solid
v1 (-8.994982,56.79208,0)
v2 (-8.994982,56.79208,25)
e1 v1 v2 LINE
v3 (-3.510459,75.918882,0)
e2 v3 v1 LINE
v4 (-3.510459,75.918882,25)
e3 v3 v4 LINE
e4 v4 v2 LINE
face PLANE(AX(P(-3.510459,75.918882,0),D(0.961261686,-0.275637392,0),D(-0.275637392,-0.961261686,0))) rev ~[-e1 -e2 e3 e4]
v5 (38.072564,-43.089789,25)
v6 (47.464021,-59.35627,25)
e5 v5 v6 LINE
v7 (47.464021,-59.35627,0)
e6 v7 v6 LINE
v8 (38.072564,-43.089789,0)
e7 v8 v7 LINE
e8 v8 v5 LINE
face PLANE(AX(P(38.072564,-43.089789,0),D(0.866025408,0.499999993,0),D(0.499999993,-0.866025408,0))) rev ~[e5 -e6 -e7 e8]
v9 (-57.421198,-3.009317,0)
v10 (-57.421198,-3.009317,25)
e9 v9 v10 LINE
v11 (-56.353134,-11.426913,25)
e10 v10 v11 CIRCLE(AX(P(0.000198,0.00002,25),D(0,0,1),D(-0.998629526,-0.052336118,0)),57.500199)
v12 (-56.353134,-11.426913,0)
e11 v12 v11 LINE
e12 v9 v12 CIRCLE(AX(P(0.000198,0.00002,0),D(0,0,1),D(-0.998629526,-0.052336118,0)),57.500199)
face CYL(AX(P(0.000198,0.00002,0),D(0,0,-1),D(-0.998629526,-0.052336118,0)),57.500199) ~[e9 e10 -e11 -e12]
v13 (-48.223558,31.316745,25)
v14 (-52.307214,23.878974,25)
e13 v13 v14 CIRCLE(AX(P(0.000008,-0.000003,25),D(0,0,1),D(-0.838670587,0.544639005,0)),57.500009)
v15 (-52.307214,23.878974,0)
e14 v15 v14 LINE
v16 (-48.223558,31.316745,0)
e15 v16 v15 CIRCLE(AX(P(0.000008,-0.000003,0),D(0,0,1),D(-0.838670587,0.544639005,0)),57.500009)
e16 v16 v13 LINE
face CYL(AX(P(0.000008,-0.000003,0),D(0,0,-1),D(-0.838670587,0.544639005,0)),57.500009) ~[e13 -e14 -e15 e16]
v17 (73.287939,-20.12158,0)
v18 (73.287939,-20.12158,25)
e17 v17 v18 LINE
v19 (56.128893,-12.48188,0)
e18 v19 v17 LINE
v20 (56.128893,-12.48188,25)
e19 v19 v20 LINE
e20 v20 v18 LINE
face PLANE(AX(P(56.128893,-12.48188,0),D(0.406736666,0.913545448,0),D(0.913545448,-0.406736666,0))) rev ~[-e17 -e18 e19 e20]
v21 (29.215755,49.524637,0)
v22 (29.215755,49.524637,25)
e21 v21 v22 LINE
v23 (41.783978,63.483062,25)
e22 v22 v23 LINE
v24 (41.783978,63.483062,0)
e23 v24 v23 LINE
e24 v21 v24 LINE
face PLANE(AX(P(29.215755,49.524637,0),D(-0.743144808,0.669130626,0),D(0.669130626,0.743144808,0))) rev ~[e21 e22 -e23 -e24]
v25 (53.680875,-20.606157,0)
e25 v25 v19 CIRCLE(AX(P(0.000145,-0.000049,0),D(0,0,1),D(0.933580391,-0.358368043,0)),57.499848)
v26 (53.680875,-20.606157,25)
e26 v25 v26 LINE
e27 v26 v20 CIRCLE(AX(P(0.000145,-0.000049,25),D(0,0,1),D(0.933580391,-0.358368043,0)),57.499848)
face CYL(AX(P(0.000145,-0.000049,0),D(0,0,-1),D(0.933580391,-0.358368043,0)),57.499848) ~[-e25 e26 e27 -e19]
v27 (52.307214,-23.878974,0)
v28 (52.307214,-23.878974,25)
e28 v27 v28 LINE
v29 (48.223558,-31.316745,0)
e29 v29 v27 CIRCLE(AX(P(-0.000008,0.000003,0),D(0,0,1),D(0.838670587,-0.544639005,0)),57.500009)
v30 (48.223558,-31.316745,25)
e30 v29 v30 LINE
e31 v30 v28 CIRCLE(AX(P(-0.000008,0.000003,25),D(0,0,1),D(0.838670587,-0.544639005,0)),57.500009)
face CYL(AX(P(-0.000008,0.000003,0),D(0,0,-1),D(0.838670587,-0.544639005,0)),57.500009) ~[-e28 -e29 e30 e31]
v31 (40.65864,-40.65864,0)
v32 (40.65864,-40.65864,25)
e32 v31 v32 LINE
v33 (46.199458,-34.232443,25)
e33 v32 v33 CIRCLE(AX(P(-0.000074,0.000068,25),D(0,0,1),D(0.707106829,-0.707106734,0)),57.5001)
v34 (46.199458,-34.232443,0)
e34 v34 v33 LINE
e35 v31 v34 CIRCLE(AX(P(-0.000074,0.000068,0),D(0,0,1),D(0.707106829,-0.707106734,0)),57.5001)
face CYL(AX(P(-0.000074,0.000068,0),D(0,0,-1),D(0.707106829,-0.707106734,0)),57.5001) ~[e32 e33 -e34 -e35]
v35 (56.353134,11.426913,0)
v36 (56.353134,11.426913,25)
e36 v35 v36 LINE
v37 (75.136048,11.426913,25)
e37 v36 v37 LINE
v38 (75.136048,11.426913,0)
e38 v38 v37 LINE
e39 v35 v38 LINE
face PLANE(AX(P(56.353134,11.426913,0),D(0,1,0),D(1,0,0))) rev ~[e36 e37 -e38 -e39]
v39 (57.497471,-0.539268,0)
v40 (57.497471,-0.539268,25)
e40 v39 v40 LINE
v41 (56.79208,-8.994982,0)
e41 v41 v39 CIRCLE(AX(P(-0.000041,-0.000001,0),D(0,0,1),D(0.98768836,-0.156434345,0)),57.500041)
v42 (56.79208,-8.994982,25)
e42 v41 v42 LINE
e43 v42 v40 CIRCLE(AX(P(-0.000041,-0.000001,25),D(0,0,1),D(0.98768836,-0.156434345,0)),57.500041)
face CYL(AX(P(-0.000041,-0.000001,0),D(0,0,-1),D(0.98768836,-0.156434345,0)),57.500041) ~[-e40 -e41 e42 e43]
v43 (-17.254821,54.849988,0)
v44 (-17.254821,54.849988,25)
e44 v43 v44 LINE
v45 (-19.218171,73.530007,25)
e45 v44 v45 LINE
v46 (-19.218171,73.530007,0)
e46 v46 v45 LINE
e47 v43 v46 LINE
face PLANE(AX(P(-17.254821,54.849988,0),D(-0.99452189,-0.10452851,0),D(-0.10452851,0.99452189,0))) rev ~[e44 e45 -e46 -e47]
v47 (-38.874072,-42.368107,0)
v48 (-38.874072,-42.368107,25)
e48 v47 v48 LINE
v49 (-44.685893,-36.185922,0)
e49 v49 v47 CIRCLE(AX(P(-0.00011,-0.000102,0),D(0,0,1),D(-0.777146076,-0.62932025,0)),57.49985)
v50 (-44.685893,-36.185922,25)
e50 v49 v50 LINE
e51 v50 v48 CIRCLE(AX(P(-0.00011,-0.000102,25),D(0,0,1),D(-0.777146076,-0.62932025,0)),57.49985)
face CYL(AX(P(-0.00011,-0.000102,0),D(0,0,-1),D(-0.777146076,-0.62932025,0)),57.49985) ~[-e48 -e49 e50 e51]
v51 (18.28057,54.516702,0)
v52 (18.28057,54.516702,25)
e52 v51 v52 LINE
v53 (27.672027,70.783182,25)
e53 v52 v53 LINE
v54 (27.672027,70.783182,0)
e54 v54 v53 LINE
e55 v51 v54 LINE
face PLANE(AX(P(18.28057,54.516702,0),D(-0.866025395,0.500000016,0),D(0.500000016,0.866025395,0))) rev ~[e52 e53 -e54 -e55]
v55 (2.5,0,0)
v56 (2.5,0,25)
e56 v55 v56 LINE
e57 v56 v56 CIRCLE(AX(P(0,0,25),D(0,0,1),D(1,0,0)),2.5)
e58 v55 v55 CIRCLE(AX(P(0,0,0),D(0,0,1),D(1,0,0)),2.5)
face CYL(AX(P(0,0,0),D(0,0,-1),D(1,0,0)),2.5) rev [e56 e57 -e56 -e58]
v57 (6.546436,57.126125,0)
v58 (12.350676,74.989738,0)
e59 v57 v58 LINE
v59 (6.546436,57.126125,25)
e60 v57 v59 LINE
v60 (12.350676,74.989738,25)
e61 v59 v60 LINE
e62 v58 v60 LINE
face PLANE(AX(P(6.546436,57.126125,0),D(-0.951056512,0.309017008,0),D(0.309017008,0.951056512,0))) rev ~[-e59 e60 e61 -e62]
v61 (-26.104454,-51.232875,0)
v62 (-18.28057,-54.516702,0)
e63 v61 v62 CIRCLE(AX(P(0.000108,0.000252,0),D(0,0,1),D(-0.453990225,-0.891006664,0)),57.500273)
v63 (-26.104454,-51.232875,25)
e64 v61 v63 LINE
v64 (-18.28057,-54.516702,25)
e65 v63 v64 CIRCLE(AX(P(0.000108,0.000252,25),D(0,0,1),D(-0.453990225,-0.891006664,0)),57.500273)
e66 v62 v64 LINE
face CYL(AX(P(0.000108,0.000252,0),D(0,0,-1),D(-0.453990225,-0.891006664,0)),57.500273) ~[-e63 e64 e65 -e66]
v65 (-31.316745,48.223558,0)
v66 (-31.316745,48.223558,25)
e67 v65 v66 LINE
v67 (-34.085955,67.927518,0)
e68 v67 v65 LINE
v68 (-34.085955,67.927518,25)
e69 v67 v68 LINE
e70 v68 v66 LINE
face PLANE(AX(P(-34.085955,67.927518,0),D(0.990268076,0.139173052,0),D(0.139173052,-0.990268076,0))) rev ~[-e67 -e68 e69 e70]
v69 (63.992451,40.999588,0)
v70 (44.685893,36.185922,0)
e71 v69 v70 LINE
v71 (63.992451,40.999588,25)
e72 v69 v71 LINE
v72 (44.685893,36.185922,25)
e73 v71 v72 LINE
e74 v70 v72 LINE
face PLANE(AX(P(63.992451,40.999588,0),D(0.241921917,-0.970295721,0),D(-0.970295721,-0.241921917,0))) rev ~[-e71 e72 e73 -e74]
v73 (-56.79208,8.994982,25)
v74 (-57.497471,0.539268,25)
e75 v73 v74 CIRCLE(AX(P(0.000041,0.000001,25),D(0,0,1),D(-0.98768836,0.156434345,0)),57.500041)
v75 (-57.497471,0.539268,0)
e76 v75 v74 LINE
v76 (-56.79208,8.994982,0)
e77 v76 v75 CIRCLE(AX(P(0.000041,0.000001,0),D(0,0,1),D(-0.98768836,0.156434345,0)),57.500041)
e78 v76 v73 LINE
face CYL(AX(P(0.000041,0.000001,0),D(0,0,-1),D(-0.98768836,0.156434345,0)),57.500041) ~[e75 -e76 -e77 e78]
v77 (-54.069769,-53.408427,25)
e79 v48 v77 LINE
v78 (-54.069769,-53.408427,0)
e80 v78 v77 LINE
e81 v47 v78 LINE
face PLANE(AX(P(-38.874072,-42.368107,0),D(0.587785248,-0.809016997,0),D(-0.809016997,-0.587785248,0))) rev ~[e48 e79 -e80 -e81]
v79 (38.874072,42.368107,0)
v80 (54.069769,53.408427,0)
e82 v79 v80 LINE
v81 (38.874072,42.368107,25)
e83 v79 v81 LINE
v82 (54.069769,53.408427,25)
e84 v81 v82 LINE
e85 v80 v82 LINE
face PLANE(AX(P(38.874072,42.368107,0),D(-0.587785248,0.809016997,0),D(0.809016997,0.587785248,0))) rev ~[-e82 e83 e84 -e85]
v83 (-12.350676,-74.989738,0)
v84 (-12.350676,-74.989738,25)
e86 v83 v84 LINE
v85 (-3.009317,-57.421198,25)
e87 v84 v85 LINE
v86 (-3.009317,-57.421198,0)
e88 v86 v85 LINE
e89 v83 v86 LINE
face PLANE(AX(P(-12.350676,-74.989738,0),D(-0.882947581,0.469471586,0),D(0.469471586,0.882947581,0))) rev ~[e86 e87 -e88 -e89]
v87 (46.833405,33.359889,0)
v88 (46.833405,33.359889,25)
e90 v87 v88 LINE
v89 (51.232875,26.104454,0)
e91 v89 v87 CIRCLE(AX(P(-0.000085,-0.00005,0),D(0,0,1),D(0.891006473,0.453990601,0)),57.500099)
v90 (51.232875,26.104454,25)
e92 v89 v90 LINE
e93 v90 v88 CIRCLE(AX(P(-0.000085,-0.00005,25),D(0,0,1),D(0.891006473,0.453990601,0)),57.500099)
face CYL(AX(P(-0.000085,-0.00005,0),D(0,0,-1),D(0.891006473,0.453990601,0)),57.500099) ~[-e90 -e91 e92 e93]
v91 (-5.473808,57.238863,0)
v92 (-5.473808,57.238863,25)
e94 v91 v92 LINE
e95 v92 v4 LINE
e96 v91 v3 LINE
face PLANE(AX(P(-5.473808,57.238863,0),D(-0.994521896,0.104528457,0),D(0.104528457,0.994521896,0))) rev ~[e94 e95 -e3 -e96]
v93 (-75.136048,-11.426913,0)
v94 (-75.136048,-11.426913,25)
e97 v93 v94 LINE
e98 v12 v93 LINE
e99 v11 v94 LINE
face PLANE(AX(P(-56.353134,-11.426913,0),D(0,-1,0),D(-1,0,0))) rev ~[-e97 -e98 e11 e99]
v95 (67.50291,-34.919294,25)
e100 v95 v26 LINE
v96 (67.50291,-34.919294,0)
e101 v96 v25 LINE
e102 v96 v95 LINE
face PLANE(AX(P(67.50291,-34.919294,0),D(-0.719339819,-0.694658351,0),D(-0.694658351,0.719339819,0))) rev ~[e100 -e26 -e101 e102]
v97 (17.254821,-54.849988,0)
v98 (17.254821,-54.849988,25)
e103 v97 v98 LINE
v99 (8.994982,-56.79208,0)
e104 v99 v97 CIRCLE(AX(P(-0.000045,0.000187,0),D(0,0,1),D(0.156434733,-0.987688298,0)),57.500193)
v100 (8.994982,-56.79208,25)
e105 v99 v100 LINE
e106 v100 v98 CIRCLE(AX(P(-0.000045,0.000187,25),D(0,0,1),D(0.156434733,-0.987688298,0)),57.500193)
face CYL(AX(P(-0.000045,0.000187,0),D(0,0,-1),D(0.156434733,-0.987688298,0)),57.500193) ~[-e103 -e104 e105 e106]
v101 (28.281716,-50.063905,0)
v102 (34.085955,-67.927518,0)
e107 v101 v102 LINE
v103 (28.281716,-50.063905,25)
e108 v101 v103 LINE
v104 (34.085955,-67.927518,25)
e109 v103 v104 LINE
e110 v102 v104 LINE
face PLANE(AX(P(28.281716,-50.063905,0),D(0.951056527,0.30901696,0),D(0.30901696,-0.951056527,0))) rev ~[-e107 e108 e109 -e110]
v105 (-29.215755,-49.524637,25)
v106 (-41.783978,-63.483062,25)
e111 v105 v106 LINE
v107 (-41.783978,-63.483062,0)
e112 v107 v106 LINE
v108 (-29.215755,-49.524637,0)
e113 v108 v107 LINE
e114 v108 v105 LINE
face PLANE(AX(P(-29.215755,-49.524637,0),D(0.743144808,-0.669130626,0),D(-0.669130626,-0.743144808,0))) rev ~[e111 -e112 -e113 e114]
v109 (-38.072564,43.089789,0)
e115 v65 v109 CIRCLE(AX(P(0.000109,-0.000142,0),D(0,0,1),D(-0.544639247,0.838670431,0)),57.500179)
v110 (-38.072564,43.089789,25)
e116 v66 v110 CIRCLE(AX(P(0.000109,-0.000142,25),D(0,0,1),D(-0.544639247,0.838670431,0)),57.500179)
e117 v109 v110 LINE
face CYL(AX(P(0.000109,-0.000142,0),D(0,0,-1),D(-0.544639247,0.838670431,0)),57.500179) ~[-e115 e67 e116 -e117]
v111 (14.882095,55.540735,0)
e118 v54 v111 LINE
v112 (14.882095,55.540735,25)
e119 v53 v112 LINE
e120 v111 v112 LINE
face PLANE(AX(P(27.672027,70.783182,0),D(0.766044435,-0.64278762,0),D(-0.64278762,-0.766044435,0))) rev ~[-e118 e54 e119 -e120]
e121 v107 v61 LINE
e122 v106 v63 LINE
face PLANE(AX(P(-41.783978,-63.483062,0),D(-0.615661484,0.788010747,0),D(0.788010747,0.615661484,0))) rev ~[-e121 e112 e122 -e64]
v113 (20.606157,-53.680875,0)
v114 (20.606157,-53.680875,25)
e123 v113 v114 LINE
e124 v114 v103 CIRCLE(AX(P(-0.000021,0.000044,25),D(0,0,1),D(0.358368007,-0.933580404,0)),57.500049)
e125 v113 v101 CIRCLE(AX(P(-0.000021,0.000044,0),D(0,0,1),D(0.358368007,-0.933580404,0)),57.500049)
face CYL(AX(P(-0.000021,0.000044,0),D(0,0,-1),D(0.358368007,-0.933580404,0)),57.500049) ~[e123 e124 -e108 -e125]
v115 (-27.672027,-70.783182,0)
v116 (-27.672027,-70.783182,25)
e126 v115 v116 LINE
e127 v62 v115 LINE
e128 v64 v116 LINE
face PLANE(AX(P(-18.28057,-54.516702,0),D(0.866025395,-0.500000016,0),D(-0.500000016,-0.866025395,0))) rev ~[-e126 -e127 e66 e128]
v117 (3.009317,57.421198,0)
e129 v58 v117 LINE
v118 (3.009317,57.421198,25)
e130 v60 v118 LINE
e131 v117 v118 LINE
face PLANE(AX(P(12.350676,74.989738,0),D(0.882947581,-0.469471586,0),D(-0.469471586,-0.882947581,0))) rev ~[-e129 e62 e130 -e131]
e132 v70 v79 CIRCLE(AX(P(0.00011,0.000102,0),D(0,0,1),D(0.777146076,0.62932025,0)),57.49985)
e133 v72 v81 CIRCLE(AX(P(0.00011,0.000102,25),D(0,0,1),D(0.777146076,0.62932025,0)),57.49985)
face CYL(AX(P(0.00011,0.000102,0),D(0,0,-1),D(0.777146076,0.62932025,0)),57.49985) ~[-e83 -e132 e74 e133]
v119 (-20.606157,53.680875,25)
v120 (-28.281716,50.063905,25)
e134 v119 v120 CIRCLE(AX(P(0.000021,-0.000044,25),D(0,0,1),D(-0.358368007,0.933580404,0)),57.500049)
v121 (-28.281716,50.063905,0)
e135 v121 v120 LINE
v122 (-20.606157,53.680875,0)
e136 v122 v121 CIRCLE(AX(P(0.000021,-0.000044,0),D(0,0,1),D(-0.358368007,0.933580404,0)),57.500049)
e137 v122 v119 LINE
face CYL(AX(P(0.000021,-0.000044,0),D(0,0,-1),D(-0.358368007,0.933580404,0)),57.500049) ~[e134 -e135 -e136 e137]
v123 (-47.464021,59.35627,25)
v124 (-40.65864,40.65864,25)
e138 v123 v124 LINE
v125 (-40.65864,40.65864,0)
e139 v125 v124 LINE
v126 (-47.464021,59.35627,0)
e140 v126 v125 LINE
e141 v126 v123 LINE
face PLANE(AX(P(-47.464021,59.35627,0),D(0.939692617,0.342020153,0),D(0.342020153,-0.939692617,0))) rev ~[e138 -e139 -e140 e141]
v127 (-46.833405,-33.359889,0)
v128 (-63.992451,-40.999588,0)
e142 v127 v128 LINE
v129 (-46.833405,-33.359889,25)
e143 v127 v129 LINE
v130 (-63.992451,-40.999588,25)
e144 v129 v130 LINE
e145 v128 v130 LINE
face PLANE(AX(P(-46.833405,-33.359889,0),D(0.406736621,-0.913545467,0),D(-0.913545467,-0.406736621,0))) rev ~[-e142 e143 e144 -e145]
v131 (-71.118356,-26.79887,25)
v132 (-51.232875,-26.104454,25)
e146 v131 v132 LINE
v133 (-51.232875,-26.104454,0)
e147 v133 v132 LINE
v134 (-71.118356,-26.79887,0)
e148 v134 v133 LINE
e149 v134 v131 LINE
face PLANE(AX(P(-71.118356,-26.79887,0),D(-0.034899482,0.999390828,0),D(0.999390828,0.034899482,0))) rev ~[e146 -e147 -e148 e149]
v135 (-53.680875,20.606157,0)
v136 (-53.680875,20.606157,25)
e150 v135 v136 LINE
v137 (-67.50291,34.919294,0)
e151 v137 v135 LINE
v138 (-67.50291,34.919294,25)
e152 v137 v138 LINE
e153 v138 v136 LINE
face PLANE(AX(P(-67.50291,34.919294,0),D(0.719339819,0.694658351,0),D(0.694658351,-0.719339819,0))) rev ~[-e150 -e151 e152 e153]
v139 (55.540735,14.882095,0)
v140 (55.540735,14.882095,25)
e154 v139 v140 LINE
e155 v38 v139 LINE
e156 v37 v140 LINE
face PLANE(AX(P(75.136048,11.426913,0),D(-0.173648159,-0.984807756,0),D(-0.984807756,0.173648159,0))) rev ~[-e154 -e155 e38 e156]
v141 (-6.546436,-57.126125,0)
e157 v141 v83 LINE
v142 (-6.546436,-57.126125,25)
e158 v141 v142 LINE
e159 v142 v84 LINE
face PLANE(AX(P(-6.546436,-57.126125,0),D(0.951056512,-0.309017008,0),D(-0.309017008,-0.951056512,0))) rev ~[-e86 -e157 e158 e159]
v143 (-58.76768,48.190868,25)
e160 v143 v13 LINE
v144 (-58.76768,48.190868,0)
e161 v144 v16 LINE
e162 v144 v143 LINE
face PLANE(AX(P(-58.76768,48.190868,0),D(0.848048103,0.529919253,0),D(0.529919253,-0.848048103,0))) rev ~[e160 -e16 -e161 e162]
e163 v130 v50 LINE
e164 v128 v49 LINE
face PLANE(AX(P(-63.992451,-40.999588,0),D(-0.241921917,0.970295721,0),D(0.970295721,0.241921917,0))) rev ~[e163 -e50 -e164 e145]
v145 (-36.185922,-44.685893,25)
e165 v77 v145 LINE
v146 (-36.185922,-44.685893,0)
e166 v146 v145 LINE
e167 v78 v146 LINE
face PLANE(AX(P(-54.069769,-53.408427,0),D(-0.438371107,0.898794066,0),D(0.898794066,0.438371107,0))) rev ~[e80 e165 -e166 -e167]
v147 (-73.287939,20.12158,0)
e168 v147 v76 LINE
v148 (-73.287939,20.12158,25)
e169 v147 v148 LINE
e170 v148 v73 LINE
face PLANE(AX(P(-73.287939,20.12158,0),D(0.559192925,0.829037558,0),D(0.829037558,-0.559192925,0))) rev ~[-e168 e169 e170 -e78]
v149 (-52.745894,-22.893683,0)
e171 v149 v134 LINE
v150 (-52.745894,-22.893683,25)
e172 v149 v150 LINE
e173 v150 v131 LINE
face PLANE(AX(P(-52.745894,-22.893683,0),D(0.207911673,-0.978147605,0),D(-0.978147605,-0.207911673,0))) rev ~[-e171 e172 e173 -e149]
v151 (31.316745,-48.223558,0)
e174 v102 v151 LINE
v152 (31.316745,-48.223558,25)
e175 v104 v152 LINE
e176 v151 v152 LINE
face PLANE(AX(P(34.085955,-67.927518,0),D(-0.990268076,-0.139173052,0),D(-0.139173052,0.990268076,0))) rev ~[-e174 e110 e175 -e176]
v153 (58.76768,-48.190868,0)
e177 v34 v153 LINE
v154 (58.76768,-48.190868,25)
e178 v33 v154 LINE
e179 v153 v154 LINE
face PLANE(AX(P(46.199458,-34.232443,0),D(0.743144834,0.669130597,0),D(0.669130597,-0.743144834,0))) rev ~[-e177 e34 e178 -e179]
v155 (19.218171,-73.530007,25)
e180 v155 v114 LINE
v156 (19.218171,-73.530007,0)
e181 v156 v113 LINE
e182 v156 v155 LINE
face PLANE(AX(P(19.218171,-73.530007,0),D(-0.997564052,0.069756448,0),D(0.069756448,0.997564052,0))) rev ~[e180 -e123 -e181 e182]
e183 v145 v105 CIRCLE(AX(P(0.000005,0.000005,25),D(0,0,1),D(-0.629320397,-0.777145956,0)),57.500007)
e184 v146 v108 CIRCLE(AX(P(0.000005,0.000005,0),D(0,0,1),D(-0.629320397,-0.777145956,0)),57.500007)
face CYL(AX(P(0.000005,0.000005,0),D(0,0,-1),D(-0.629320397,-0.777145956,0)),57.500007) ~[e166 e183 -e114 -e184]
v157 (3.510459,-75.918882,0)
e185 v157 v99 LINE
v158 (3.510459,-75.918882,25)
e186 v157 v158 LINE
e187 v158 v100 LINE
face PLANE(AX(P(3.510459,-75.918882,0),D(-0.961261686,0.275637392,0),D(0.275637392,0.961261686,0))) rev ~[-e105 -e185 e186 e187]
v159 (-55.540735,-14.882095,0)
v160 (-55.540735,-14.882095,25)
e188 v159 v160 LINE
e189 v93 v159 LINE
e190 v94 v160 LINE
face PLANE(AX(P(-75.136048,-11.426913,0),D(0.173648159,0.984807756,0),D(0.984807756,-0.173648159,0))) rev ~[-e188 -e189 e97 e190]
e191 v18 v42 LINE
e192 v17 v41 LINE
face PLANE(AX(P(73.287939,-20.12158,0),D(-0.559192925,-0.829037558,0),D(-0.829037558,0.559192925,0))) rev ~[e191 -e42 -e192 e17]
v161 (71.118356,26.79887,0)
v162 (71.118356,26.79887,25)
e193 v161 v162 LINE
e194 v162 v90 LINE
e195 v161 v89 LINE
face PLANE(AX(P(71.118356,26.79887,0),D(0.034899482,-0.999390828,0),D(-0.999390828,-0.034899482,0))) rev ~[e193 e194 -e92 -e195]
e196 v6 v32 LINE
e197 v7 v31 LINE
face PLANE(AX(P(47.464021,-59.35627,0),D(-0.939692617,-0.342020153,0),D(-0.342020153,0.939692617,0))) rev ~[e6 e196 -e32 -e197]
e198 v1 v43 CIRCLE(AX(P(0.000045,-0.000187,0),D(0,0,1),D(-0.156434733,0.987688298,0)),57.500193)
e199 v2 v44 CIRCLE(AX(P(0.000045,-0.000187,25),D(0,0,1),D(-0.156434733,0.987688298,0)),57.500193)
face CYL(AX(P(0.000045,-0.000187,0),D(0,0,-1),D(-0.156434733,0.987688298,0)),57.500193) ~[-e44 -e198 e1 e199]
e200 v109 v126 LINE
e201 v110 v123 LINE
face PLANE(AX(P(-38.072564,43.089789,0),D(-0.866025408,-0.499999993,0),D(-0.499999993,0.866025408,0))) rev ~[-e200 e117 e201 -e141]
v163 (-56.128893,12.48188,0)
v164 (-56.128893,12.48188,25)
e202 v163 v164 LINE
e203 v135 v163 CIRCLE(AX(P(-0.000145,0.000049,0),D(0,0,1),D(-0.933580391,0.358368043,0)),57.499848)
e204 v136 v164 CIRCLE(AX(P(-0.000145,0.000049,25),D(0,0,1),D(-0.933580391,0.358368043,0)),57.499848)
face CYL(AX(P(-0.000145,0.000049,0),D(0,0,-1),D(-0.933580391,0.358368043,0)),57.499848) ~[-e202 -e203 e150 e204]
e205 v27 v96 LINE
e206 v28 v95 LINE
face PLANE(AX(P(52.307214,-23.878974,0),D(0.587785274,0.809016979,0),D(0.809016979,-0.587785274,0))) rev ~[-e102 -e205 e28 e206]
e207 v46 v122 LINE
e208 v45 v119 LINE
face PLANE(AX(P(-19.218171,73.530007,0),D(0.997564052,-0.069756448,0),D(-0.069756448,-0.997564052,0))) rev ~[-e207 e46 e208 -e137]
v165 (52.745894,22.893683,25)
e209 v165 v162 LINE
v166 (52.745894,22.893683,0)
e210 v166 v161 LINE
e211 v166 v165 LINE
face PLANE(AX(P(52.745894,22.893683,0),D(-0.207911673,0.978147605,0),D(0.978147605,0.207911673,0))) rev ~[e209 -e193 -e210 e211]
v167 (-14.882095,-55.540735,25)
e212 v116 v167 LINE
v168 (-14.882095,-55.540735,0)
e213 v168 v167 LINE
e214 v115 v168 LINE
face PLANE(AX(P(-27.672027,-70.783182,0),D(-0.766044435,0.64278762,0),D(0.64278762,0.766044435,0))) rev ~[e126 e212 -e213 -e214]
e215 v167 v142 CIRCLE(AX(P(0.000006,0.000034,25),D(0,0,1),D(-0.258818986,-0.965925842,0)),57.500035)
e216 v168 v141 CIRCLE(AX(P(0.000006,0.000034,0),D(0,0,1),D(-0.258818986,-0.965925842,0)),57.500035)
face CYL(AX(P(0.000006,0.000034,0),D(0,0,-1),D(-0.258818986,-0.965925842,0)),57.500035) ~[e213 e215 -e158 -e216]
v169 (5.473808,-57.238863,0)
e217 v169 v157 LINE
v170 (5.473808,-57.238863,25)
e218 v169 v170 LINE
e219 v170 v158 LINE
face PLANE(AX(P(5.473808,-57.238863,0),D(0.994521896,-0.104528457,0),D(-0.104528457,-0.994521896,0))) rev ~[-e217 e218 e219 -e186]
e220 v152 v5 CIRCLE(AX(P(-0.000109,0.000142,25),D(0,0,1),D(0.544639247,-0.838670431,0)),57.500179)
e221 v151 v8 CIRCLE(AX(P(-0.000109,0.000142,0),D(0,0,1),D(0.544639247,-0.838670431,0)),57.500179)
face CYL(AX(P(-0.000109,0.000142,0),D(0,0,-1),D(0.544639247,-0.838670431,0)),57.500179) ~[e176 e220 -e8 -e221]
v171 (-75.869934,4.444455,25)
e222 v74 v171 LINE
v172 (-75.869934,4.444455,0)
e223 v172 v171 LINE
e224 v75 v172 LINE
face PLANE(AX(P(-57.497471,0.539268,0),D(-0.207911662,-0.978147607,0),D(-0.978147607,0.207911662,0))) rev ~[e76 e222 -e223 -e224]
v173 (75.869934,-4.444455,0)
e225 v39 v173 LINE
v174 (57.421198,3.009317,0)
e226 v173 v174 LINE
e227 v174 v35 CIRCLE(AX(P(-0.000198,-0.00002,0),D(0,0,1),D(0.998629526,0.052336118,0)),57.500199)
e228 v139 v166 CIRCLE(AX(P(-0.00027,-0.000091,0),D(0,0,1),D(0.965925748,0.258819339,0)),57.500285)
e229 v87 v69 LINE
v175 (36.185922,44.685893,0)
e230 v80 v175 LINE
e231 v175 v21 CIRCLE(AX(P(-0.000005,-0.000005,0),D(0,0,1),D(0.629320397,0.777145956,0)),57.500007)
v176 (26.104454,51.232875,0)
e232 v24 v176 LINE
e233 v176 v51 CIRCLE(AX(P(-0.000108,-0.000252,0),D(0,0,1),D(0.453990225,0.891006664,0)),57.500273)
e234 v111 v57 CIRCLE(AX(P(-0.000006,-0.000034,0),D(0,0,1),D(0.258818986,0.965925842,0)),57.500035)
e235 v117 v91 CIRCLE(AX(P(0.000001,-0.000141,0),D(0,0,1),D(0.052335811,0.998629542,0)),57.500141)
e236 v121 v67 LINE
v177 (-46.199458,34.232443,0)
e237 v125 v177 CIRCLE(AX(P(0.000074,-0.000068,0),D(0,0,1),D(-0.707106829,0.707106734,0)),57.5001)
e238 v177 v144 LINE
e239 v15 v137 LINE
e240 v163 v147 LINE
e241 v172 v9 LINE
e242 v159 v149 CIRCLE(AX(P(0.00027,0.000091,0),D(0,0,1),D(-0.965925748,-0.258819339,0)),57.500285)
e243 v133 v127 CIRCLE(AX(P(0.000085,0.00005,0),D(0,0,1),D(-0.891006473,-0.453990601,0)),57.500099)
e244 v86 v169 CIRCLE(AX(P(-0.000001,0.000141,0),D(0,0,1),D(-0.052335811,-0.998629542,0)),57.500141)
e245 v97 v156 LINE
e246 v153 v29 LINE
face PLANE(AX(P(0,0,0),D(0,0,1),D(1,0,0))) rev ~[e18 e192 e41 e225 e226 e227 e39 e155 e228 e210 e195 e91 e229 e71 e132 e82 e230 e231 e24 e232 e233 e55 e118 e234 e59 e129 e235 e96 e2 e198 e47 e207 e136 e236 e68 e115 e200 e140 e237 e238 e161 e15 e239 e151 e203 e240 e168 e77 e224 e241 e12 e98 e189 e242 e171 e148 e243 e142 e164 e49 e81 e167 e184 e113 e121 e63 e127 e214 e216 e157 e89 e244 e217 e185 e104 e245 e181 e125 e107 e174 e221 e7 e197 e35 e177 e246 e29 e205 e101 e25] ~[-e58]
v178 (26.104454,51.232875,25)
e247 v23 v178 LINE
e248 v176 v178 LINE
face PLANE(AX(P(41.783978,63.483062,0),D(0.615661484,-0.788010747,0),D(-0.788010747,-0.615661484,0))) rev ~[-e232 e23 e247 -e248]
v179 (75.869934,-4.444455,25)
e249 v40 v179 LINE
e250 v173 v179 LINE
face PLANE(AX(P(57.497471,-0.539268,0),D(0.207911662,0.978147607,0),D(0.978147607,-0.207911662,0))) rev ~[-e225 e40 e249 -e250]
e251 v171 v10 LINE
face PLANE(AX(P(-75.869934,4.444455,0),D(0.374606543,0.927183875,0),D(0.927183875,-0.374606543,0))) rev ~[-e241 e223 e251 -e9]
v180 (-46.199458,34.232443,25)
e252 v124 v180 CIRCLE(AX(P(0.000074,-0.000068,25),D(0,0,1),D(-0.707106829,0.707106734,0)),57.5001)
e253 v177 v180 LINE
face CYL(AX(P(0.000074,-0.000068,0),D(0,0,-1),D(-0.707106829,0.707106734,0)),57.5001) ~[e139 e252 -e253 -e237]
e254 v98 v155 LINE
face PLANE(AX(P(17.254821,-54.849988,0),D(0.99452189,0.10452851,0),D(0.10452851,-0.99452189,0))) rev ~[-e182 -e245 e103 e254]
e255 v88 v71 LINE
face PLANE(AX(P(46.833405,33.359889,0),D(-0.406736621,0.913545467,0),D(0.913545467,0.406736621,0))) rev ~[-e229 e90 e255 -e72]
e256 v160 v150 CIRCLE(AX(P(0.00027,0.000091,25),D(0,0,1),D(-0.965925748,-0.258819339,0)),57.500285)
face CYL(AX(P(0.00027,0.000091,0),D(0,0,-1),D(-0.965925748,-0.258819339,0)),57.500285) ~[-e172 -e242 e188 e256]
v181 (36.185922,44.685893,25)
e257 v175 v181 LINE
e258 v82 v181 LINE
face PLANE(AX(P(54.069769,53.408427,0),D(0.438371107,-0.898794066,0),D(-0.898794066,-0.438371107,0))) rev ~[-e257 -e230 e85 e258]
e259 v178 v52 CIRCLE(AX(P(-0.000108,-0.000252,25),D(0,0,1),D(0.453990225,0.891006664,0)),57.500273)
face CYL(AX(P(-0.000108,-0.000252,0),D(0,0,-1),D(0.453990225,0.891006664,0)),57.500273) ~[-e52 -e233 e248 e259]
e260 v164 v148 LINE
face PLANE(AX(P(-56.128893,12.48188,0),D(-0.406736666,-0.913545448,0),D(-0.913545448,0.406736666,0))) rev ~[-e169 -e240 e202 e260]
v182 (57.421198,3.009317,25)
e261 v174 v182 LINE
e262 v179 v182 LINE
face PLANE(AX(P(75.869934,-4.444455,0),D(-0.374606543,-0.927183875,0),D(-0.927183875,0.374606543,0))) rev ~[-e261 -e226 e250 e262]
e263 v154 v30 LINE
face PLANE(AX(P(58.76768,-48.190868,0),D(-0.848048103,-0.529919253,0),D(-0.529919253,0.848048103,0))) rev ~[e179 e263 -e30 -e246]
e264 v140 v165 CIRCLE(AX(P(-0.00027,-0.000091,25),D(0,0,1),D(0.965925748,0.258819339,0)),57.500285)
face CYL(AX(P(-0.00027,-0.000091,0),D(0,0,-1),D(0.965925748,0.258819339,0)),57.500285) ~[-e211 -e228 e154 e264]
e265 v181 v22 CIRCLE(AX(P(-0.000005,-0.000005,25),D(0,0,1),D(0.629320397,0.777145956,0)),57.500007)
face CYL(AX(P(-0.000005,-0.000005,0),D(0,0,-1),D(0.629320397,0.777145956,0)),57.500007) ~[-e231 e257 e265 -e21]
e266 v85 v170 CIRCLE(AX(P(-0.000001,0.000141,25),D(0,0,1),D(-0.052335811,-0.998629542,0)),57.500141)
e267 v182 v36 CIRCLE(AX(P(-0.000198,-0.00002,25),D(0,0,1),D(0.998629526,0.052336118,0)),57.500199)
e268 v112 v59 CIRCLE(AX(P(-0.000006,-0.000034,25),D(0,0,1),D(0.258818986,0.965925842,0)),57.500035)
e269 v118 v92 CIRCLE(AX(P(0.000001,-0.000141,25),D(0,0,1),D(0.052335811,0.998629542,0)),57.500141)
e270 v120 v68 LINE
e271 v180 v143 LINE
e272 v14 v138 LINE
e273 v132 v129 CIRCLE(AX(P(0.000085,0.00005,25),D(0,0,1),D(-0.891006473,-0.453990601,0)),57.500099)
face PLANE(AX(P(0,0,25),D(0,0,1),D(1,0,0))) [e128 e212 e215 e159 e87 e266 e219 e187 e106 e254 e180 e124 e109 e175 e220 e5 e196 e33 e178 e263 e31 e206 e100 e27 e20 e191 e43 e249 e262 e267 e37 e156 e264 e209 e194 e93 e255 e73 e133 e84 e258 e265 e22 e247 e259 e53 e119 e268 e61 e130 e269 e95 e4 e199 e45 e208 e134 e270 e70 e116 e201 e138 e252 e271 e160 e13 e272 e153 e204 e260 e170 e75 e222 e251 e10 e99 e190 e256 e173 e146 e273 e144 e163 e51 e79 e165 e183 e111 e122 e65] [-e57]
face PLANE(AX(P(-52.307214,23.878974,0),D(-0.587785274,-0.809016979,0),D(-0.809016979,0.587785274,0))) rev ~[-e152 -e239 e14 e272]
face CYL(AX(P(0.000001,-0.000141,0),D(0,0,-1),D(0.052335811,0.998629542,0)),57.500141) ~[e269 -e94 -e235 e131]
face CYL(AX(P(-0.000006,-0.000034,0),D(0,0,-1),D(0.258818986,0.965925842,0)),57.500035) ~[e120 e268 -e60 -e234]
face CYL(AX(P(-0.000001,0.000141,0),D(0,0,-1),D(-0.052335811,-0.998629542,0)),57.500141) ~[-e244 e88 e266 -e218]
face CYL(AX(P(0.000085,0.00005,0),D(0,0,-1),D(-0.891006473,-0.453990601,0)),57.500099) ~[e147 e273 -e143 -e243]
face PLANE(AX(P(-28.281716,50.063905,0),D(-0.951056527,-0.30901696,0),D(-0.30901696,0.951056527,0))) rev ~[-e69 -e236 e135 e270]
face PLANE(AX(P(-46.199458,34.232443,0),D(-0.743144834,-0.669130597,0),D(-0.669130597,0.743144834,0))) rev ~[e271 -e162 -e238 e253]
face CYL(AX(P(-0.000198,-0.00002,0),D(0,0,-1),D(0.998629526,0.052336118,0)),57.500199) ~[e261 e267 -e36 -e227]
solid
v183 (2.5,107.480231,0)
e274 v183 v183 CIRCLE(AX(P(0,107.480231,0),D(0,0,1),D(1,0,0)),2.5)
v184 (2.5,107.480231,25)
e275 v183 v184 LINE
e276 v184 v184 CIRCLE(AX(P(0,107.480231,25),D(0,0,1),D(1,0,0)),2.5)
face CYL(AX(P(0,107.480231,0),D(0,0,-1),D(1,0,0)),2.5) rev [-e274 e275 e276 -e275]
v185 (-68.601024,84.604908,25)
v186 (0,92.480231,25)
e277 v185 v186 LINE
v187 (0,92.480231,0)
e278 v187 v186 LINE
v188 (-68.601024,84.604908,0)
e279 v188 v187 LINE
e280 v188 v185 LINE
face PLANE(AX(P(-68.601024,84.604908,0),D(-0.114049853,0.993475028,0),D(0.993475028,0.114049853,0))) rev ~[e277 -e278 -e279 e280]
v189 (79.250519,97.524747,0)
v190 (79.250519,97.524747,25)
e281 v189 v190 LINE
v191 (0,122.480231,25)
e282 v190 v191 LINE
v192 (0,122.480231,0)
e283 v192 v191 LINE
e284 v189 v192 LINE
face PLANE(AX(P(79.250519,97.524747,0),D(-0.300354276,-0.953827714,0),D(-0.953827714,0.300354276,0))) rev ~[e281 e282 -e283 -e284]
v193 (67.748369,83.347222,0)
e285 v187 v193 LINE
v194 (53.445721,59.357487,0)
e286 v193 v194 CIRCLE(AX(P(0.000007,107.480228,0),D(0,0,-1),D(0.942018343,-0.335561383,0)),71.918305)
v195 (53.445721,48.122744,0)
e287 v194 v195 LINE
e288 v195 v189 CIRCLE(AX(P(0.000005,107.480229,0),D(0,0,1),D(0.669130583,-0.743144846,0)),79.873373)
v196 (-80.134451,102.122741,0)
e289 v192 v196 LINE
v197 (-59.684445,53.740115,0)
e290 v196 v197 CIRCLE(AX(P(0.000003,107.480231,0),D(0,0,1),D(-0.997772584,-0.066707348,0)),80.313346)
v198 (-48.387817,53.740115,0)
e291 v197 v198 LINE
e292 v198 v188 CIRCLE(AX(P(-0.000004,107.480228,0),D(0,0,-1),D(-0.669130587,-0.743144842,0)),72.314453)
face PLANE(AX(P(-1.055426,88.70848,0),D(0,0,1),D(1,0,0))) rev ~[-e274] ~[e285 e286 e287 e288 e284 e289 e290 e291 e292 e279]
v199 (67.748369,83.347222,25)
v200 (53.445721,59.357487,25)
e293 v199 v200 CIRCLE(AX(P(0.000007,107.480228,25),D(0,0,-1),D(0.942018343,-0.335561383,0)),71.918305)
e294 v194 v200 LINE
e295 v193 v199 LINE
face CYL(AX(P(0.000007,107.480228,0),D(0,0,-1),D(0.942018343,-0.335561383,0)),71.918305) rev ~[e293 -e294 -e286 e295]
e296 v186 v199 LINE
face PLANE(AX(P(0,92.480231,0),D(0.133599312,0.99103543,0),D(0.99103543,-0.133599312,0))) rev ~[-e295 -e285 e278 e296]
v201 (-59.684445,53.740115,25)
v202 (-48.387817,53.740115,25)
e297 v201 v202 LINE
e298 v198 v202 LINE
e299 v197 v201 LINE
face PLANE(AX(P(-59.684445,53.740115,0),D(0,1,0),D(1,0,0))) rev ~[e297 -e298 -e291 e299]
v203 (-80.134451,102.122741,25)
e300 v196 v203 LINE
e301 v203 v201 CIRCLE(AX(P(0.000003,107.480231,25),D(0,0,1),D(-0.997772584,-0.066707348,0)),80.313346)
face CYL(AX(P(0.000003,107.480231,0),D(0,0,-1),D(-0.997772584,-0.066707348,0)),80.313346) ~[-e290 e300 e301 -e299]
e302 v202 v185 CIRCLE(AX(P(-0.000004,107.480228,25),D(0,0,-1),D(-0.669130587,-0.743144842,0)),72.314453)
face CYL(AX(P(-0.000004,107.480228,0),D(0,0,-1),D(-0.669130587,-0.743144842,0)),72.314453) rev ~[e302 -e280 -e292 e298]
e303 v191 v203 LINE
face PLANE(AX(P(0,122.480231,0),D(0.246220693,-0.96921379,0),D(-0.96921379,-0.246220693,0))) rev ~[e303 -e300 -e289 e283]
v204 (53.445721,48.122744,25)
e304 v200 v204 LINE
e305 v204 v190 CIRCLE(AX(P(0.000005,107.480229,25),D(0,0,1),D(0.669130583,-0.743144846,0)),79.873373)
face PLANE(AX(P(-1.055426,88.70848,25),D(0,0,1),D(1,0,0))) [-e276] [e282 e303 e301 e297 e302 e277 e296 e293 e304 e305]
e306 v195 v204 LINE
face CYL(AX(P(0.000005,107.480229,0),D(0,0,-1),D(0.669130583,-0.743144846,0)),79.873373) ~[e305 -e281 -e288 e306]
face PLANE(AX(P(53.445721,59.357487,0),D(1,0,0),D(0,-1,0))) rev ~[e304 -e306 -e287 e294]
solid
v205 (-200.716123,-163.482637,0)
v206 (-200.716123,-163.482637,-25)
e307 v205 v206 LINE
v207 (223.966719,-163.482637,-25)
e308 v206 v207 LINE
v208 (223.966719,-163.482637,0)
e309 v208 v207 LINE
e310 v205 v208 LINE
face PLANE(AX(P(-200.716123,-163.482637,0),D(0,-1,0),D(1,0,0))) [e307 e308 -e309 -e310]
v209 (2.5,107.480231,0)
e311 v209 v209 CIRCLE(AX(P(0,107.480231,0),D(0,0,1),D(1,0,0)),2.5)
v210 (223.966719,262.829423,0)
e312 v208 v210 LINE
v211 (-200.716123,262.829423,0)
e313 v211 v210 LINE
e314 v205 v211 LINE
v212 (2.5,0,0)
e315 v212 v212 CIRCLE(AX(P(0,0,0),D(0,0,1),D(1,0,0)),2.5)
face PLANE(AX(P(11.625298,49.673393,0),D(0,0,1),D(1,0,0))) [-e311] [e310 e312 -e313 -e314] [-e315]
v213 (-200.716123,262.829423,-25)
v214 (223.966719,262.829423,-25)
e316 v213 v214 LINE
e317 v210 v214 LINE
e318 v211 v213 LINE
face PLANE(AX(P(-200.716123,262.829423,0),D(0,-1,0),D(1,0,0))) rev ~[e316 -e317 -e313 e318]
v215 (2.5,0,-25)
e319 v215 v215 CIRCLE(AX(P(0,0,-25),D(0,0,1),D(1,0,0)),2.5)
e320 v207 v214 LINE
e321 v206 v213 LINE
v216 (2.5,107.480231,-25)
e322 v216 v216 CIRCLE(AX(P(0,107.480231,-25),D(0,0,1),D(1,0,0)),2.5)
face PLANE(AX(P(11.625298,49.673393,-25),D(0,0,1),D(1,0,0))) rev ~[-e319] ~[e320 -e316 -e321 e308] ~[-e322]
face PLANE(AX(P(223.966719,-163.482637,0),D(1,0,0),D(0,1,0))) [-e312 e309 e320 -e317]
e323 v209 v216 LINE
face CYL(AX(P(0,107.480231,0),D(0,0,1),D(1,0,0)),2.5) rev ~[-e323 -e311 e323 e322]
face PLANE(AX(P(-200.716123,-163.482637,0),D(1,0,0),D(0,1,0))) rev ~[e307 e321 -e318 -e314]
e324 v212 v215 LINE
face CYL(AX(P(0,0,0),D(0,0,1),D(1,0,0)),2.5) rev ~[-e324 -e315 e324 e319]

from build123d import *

# Parameters (mm, degrees)
F0_R     = 2.5
F1_DEPTH = 25
F2_R     = 2.5
F3_DEPTH = 25
F4_W     = 424.682841
F4_H     = 426.312059
F4_R     = 2.5
F5_DEPTH = 25


with BuildPart() as f1:
    # F0 (on Top) → F1 (new body)
    with BuildSketch(Plane.XY):
        with BuildLine():
            Line((-75.869934, 4.444455), (-57.421198, -3.009317))
            ThreePointArc((-57.421198, -3.009317), (-57.042647, -7.237843), (-56.353134, -11.426913))
            Line((-56.353134, -11.426913), (-75.136048, -11.426913))
            Line((-75.136048, -11.426913), (-55.540735, -14.882095))
            ThreePointArc((-55.540735, -14.882095), (-54.291296, -18.939512), (-52.745894, -22.893683))
            Line((-52.745894, -22.893683), (-71.118356, -26.79887))
            Line((-71.118356, -26.79887), (-51.232875, -26.104454))
            ThreePointArc((-51.232875, -26.104454), (-49.167155, -29.813434), (-46.833405, -33.359889))
            Line((-46.833405, -33.359889), (-63.992451, -40.999588))
            Line((-63.992451, -40.999588), (-44.685893, -36.185922))
            ThreePointArc((-44.685893, -36.185922), (-41.894174, -39.384365), (-38.874072, -42.368107))
            Line((-38.874072, -42.368107), (-54.069769, -53.408427))
            Line((-54.069769, -53.408427), (-36.185922, -44.685893))
            ThreePointArc((-36.185922, -44.685893), (-32.790215, -47.234011), (-29.215755, -49.524637))
            Line((-29.215755, -49.524637), (-41.783978, -63.483062))
            Line((-41.783978, -63.483062), (-26.104454, -51.232875))
            ThreePointArc((-26.104454, -51.232875), (-22.253167, -53.019303), (-18.28057, -54.516702))
            Line((-18.28057, -54.516702), (-27.672027, -70.783182))
            Line((-27.672027, -70.783182), (-14.882095, -55.540735))
            ThreePointArc((-14.882095, -55.540735), (-10.743549, -56.487398), (-6.546436, -57.126125))
            Line((-6.546436, -57.126125), (-12.350676, -74.989738))
            Line((-12.350676, -74.989738), (-3.009317, -57.421198))
            ThreePointArc((-3.009317, -57.421198), (1.235613, -57.486722), (5.473808, -57.238863))
            Line((5.473808, -57.238863), (3.510459, -75.918882))
            Line((3.510459, -75.918882), (8.994982, -56.79208))
            ThreePointArc((8.994982, -56.79208), (13.160774, -55.973601), (17.254821, -54.849988))
            Line((17.254821, -54.849988), (19.218171, -73.530007))
            Line((19.218171, -73.530007), (20.606157, -53.680875))
            ThreePointArc((20.606157, -53.680875), (24.510746, -52.014165), (28.281716, -50.063905))
            Line((28.281716, -50.063905), (34.085955, -67.927518))
            Line((34.085955, -67.927518), (31.316745, -48.223558))
            ThreePointArc((31.316745, -48.223558), (34.78948, -45.78146), (38.072564, -43.089789))
            Line((38.072564, -43.089789), (47.464021, -59.35627))
            Line((47.464021, -59.35627), (40.65864, -40.65864))
            ThreePointArc((40.65864, -40.65864), (43.547747, -37.547886), (46.199458, -34.232443))
            Line((46.199458, -34.232443), (58.76768, -48.190868))
            Line((58.76768, -48.190868), (48.223558, -31.316745))
            ThreePointArc((48.223558, -31.316745), (50.402769, -27.673289), (52.307214, -23.878974))
            Line((52.307214, -23.878974), (67.50291, -34.919294))
            Line((67.50291, -34.919294), (53.680875, -20.606157))
            ThreePointArc((53.680875, -20.606157), (55.054948, -16.589236), (56.128893, -12.48188))
            Line((56.128893, -12.48188), (73.287939, -20.12158))
            Line((73.287939, -20.12158), (56.79208, -8.994982))
            ThreePointArc((56.79208, -8.994982), (57.300961, -4.780154), (57.497471, -0.539268))
            Line((57.497471, -0.539268), (75.869934, -4.444455))
            Line((75.869934, -4.444455), (57.421198, 3.009317))
            ThreePointArc((57.421198, 3.009317), (57.042647, 7.237843), (56.353134, 11.426913))
            Line((56.353134, 11.426913), (75.136048, 11.426913))
            Line((75.136048, 11.426913), (55.540735, 14.882095))
            ThreePointArc((55.540735, 14.882095), (54.291296, 18.939512), (52.745894, 22.893683))
            Line((52.745894, 22.893683), (71.118356, 26.79887))
            Line((71.118356, 26.79887), (51.232875, 26.104454))
            ThreePointArc((51.232875, 26.104454), (49.167155, 29.813434), (46.833405, 33.359889))
            Line((46.833405, 33.359889), (63.992451, 40.999588))
            Line((63.992451, 40.999588), (44.685893, 36.185922))
            ThreePointArc((44.685893, 36.185922), (41.894174, 39.384365), (38.874072, 42.368107))
            Line((38.874072, 42.368107), (54.069769, 53.408427))
            Line((54.069769, 53.408427), (36.185922, 44.685893))
            ThreePointArc((36.185922, 44.685893), (32.790215, 47.234011), (29.215755, 49.524637))
            Line((29.215755, 49.524637), (41.783978, 63.483062))
            Line((41.783978, 63.483062), (26.104454, 51.232875))
            ThreePointArc((26.104454, 51.232875), (22.253167, 53.019303), (18.28057, 54.516702))
            Line((18.28057, 54.516702), (27.672027, 70.783182))
            Line((27.672027, 70.783182), (14.882095, 55.540735))
            ThreePointArc((14.882095, 55.540735), (10.743549, 56.487398), (6.546436, 57.126125))
            Line((6.546436, 57.126125), (12.350676, 74.989738))
            Line((12.350676, 74.989738), (3.009317, 57.421198))
            ThreePointArc((3.009317, 57.421198), (-1.235613, 57.486722), (-5.473808, 57.238863))
            Line((-5.473808, 57.238863), (-3.510459, 75.918882))
            Line((-3.510459, 75.918882), (-8.994982, 56.79208))
            ThreePointArc((-8.994982, 56.79208), (-13.160774, 55.973601), (-17.254821, 54.849988))
            Line((-17.254821, 54.849988), (-19.218171, 73.530007))
            Line((-19.218171, 73.530007), (-20.606157, 53.680875))
            ThreePointArc((-20.606157, 53.680875), (-24.510746, 52.014165), (-28.281716, 50.063905))
            Line((-28.281716, 50.063905), (-34.085955, 67.927518))
            Line((-34.085955, 67.927518), (-31.316745, 48.223558))
            ThreePointArc((-31.316745, 48.223558), (-34.78948, 45.78146), (-38.072564, 43.089789))
            Line((-38.072564, 43.089789), (-47.464021, 59.35627))
            Line((-47.464021, 59.35627), (-40.65864, 40.65864))
            ThreePointArc((-40.65864, 40.65864), (-43.547747, 37.547886), (-46.199458, 34.232443))
            Line((-46.199458, 34.232443), (-58.76768, 48.190868))
            Line((-58.76768, 48.190868), (-48.223558, 31.316745))
            ThreePointArc((-48.223558, 31.316745), (-50.402769, 27.673289), (-52.307214, 23.878974))
            Line((-52.307214, 23.878974), (-67.50291, 34.919294))
            Line((-67.50291, 34.919294), (-53.680875, 20.606157))
            ThreePointArc((-53.680875, 20.606157), (-55.054948, 16.589236), (-56.128893, 12.48188))
            Line((-56.128893, 12.48188), (-73.287939, 20.12158))
            Line((-73.287939, 20.12158), (-56.79208, 8.994982))
            ThreePointArc((-56.79208, 8.994982), (-57.300961, 4.780154), (-57.497471, 0.539268))
            Line((-57.497471, 0.539268), (-75.869934, 4.444455))
        make_face()
        Circle(F0_R, mode=Mode.SUBTRACT)
    extrude(amount=F1_DEPTH)


with BuildPart() as f3:
    # F2 (on Top) → F3 (new body)
    with BuildSketch(Plane.XY):
        with BuildLine():
            ThreePointArc((-80.134451, 102.122741), (-73.976689, 76.212317), (-59.684445, 53.740115))
            Line((-59.684445, 53.740115), (-48.387817, 53.740115))
            ThreePointArc((-48.387817, 53.740115), (-60.495918, 67.86174), (-68.601024, 84.604908))
            Line((-68.601024, 84.604908), (0, 92.480231))
            Line((0, 92.480231), (67.748369, 83.347222))
            ThreePointArc((67.748369, 83.347222), (61.772799, 70.651371), (53.445721, 59.357487))
            Line((53.445721, 59.357487), (53.445721, 48.122744))
            ThreePointArc((53.445721, 48.122744), (70.796981, 70.499913), (79.250519, 97.524747))
            Line((79.250519, 97.524747), (0, 122.480231))
            Line((0, 122.480231), (-80.134451, 102.122741))
        make_face()
        with Locations((0, 107.480231)):
            Circle(F2_R, mode=Mode.SUBTRACT)
    extrude(amount=F3_DEPTH)


with BuildPart() as f5:
    # F4 (on Top) → F5 (new body)
    with BuildSketch(Plane.XY):
        with Locations((11.625298, 49.673393)):
            Rectangle(F4_W, F4_H)
        Circle(F4_R, mode=Mode.SUBTRACT)
        with Locations((0, 107.480231)):
            Circle(F4_R, mode=Mode.SUBTRACT)
    extrude(amount=-F5_DEPTH)


solid = Compound([f1.part, f3.part, f5.part])
